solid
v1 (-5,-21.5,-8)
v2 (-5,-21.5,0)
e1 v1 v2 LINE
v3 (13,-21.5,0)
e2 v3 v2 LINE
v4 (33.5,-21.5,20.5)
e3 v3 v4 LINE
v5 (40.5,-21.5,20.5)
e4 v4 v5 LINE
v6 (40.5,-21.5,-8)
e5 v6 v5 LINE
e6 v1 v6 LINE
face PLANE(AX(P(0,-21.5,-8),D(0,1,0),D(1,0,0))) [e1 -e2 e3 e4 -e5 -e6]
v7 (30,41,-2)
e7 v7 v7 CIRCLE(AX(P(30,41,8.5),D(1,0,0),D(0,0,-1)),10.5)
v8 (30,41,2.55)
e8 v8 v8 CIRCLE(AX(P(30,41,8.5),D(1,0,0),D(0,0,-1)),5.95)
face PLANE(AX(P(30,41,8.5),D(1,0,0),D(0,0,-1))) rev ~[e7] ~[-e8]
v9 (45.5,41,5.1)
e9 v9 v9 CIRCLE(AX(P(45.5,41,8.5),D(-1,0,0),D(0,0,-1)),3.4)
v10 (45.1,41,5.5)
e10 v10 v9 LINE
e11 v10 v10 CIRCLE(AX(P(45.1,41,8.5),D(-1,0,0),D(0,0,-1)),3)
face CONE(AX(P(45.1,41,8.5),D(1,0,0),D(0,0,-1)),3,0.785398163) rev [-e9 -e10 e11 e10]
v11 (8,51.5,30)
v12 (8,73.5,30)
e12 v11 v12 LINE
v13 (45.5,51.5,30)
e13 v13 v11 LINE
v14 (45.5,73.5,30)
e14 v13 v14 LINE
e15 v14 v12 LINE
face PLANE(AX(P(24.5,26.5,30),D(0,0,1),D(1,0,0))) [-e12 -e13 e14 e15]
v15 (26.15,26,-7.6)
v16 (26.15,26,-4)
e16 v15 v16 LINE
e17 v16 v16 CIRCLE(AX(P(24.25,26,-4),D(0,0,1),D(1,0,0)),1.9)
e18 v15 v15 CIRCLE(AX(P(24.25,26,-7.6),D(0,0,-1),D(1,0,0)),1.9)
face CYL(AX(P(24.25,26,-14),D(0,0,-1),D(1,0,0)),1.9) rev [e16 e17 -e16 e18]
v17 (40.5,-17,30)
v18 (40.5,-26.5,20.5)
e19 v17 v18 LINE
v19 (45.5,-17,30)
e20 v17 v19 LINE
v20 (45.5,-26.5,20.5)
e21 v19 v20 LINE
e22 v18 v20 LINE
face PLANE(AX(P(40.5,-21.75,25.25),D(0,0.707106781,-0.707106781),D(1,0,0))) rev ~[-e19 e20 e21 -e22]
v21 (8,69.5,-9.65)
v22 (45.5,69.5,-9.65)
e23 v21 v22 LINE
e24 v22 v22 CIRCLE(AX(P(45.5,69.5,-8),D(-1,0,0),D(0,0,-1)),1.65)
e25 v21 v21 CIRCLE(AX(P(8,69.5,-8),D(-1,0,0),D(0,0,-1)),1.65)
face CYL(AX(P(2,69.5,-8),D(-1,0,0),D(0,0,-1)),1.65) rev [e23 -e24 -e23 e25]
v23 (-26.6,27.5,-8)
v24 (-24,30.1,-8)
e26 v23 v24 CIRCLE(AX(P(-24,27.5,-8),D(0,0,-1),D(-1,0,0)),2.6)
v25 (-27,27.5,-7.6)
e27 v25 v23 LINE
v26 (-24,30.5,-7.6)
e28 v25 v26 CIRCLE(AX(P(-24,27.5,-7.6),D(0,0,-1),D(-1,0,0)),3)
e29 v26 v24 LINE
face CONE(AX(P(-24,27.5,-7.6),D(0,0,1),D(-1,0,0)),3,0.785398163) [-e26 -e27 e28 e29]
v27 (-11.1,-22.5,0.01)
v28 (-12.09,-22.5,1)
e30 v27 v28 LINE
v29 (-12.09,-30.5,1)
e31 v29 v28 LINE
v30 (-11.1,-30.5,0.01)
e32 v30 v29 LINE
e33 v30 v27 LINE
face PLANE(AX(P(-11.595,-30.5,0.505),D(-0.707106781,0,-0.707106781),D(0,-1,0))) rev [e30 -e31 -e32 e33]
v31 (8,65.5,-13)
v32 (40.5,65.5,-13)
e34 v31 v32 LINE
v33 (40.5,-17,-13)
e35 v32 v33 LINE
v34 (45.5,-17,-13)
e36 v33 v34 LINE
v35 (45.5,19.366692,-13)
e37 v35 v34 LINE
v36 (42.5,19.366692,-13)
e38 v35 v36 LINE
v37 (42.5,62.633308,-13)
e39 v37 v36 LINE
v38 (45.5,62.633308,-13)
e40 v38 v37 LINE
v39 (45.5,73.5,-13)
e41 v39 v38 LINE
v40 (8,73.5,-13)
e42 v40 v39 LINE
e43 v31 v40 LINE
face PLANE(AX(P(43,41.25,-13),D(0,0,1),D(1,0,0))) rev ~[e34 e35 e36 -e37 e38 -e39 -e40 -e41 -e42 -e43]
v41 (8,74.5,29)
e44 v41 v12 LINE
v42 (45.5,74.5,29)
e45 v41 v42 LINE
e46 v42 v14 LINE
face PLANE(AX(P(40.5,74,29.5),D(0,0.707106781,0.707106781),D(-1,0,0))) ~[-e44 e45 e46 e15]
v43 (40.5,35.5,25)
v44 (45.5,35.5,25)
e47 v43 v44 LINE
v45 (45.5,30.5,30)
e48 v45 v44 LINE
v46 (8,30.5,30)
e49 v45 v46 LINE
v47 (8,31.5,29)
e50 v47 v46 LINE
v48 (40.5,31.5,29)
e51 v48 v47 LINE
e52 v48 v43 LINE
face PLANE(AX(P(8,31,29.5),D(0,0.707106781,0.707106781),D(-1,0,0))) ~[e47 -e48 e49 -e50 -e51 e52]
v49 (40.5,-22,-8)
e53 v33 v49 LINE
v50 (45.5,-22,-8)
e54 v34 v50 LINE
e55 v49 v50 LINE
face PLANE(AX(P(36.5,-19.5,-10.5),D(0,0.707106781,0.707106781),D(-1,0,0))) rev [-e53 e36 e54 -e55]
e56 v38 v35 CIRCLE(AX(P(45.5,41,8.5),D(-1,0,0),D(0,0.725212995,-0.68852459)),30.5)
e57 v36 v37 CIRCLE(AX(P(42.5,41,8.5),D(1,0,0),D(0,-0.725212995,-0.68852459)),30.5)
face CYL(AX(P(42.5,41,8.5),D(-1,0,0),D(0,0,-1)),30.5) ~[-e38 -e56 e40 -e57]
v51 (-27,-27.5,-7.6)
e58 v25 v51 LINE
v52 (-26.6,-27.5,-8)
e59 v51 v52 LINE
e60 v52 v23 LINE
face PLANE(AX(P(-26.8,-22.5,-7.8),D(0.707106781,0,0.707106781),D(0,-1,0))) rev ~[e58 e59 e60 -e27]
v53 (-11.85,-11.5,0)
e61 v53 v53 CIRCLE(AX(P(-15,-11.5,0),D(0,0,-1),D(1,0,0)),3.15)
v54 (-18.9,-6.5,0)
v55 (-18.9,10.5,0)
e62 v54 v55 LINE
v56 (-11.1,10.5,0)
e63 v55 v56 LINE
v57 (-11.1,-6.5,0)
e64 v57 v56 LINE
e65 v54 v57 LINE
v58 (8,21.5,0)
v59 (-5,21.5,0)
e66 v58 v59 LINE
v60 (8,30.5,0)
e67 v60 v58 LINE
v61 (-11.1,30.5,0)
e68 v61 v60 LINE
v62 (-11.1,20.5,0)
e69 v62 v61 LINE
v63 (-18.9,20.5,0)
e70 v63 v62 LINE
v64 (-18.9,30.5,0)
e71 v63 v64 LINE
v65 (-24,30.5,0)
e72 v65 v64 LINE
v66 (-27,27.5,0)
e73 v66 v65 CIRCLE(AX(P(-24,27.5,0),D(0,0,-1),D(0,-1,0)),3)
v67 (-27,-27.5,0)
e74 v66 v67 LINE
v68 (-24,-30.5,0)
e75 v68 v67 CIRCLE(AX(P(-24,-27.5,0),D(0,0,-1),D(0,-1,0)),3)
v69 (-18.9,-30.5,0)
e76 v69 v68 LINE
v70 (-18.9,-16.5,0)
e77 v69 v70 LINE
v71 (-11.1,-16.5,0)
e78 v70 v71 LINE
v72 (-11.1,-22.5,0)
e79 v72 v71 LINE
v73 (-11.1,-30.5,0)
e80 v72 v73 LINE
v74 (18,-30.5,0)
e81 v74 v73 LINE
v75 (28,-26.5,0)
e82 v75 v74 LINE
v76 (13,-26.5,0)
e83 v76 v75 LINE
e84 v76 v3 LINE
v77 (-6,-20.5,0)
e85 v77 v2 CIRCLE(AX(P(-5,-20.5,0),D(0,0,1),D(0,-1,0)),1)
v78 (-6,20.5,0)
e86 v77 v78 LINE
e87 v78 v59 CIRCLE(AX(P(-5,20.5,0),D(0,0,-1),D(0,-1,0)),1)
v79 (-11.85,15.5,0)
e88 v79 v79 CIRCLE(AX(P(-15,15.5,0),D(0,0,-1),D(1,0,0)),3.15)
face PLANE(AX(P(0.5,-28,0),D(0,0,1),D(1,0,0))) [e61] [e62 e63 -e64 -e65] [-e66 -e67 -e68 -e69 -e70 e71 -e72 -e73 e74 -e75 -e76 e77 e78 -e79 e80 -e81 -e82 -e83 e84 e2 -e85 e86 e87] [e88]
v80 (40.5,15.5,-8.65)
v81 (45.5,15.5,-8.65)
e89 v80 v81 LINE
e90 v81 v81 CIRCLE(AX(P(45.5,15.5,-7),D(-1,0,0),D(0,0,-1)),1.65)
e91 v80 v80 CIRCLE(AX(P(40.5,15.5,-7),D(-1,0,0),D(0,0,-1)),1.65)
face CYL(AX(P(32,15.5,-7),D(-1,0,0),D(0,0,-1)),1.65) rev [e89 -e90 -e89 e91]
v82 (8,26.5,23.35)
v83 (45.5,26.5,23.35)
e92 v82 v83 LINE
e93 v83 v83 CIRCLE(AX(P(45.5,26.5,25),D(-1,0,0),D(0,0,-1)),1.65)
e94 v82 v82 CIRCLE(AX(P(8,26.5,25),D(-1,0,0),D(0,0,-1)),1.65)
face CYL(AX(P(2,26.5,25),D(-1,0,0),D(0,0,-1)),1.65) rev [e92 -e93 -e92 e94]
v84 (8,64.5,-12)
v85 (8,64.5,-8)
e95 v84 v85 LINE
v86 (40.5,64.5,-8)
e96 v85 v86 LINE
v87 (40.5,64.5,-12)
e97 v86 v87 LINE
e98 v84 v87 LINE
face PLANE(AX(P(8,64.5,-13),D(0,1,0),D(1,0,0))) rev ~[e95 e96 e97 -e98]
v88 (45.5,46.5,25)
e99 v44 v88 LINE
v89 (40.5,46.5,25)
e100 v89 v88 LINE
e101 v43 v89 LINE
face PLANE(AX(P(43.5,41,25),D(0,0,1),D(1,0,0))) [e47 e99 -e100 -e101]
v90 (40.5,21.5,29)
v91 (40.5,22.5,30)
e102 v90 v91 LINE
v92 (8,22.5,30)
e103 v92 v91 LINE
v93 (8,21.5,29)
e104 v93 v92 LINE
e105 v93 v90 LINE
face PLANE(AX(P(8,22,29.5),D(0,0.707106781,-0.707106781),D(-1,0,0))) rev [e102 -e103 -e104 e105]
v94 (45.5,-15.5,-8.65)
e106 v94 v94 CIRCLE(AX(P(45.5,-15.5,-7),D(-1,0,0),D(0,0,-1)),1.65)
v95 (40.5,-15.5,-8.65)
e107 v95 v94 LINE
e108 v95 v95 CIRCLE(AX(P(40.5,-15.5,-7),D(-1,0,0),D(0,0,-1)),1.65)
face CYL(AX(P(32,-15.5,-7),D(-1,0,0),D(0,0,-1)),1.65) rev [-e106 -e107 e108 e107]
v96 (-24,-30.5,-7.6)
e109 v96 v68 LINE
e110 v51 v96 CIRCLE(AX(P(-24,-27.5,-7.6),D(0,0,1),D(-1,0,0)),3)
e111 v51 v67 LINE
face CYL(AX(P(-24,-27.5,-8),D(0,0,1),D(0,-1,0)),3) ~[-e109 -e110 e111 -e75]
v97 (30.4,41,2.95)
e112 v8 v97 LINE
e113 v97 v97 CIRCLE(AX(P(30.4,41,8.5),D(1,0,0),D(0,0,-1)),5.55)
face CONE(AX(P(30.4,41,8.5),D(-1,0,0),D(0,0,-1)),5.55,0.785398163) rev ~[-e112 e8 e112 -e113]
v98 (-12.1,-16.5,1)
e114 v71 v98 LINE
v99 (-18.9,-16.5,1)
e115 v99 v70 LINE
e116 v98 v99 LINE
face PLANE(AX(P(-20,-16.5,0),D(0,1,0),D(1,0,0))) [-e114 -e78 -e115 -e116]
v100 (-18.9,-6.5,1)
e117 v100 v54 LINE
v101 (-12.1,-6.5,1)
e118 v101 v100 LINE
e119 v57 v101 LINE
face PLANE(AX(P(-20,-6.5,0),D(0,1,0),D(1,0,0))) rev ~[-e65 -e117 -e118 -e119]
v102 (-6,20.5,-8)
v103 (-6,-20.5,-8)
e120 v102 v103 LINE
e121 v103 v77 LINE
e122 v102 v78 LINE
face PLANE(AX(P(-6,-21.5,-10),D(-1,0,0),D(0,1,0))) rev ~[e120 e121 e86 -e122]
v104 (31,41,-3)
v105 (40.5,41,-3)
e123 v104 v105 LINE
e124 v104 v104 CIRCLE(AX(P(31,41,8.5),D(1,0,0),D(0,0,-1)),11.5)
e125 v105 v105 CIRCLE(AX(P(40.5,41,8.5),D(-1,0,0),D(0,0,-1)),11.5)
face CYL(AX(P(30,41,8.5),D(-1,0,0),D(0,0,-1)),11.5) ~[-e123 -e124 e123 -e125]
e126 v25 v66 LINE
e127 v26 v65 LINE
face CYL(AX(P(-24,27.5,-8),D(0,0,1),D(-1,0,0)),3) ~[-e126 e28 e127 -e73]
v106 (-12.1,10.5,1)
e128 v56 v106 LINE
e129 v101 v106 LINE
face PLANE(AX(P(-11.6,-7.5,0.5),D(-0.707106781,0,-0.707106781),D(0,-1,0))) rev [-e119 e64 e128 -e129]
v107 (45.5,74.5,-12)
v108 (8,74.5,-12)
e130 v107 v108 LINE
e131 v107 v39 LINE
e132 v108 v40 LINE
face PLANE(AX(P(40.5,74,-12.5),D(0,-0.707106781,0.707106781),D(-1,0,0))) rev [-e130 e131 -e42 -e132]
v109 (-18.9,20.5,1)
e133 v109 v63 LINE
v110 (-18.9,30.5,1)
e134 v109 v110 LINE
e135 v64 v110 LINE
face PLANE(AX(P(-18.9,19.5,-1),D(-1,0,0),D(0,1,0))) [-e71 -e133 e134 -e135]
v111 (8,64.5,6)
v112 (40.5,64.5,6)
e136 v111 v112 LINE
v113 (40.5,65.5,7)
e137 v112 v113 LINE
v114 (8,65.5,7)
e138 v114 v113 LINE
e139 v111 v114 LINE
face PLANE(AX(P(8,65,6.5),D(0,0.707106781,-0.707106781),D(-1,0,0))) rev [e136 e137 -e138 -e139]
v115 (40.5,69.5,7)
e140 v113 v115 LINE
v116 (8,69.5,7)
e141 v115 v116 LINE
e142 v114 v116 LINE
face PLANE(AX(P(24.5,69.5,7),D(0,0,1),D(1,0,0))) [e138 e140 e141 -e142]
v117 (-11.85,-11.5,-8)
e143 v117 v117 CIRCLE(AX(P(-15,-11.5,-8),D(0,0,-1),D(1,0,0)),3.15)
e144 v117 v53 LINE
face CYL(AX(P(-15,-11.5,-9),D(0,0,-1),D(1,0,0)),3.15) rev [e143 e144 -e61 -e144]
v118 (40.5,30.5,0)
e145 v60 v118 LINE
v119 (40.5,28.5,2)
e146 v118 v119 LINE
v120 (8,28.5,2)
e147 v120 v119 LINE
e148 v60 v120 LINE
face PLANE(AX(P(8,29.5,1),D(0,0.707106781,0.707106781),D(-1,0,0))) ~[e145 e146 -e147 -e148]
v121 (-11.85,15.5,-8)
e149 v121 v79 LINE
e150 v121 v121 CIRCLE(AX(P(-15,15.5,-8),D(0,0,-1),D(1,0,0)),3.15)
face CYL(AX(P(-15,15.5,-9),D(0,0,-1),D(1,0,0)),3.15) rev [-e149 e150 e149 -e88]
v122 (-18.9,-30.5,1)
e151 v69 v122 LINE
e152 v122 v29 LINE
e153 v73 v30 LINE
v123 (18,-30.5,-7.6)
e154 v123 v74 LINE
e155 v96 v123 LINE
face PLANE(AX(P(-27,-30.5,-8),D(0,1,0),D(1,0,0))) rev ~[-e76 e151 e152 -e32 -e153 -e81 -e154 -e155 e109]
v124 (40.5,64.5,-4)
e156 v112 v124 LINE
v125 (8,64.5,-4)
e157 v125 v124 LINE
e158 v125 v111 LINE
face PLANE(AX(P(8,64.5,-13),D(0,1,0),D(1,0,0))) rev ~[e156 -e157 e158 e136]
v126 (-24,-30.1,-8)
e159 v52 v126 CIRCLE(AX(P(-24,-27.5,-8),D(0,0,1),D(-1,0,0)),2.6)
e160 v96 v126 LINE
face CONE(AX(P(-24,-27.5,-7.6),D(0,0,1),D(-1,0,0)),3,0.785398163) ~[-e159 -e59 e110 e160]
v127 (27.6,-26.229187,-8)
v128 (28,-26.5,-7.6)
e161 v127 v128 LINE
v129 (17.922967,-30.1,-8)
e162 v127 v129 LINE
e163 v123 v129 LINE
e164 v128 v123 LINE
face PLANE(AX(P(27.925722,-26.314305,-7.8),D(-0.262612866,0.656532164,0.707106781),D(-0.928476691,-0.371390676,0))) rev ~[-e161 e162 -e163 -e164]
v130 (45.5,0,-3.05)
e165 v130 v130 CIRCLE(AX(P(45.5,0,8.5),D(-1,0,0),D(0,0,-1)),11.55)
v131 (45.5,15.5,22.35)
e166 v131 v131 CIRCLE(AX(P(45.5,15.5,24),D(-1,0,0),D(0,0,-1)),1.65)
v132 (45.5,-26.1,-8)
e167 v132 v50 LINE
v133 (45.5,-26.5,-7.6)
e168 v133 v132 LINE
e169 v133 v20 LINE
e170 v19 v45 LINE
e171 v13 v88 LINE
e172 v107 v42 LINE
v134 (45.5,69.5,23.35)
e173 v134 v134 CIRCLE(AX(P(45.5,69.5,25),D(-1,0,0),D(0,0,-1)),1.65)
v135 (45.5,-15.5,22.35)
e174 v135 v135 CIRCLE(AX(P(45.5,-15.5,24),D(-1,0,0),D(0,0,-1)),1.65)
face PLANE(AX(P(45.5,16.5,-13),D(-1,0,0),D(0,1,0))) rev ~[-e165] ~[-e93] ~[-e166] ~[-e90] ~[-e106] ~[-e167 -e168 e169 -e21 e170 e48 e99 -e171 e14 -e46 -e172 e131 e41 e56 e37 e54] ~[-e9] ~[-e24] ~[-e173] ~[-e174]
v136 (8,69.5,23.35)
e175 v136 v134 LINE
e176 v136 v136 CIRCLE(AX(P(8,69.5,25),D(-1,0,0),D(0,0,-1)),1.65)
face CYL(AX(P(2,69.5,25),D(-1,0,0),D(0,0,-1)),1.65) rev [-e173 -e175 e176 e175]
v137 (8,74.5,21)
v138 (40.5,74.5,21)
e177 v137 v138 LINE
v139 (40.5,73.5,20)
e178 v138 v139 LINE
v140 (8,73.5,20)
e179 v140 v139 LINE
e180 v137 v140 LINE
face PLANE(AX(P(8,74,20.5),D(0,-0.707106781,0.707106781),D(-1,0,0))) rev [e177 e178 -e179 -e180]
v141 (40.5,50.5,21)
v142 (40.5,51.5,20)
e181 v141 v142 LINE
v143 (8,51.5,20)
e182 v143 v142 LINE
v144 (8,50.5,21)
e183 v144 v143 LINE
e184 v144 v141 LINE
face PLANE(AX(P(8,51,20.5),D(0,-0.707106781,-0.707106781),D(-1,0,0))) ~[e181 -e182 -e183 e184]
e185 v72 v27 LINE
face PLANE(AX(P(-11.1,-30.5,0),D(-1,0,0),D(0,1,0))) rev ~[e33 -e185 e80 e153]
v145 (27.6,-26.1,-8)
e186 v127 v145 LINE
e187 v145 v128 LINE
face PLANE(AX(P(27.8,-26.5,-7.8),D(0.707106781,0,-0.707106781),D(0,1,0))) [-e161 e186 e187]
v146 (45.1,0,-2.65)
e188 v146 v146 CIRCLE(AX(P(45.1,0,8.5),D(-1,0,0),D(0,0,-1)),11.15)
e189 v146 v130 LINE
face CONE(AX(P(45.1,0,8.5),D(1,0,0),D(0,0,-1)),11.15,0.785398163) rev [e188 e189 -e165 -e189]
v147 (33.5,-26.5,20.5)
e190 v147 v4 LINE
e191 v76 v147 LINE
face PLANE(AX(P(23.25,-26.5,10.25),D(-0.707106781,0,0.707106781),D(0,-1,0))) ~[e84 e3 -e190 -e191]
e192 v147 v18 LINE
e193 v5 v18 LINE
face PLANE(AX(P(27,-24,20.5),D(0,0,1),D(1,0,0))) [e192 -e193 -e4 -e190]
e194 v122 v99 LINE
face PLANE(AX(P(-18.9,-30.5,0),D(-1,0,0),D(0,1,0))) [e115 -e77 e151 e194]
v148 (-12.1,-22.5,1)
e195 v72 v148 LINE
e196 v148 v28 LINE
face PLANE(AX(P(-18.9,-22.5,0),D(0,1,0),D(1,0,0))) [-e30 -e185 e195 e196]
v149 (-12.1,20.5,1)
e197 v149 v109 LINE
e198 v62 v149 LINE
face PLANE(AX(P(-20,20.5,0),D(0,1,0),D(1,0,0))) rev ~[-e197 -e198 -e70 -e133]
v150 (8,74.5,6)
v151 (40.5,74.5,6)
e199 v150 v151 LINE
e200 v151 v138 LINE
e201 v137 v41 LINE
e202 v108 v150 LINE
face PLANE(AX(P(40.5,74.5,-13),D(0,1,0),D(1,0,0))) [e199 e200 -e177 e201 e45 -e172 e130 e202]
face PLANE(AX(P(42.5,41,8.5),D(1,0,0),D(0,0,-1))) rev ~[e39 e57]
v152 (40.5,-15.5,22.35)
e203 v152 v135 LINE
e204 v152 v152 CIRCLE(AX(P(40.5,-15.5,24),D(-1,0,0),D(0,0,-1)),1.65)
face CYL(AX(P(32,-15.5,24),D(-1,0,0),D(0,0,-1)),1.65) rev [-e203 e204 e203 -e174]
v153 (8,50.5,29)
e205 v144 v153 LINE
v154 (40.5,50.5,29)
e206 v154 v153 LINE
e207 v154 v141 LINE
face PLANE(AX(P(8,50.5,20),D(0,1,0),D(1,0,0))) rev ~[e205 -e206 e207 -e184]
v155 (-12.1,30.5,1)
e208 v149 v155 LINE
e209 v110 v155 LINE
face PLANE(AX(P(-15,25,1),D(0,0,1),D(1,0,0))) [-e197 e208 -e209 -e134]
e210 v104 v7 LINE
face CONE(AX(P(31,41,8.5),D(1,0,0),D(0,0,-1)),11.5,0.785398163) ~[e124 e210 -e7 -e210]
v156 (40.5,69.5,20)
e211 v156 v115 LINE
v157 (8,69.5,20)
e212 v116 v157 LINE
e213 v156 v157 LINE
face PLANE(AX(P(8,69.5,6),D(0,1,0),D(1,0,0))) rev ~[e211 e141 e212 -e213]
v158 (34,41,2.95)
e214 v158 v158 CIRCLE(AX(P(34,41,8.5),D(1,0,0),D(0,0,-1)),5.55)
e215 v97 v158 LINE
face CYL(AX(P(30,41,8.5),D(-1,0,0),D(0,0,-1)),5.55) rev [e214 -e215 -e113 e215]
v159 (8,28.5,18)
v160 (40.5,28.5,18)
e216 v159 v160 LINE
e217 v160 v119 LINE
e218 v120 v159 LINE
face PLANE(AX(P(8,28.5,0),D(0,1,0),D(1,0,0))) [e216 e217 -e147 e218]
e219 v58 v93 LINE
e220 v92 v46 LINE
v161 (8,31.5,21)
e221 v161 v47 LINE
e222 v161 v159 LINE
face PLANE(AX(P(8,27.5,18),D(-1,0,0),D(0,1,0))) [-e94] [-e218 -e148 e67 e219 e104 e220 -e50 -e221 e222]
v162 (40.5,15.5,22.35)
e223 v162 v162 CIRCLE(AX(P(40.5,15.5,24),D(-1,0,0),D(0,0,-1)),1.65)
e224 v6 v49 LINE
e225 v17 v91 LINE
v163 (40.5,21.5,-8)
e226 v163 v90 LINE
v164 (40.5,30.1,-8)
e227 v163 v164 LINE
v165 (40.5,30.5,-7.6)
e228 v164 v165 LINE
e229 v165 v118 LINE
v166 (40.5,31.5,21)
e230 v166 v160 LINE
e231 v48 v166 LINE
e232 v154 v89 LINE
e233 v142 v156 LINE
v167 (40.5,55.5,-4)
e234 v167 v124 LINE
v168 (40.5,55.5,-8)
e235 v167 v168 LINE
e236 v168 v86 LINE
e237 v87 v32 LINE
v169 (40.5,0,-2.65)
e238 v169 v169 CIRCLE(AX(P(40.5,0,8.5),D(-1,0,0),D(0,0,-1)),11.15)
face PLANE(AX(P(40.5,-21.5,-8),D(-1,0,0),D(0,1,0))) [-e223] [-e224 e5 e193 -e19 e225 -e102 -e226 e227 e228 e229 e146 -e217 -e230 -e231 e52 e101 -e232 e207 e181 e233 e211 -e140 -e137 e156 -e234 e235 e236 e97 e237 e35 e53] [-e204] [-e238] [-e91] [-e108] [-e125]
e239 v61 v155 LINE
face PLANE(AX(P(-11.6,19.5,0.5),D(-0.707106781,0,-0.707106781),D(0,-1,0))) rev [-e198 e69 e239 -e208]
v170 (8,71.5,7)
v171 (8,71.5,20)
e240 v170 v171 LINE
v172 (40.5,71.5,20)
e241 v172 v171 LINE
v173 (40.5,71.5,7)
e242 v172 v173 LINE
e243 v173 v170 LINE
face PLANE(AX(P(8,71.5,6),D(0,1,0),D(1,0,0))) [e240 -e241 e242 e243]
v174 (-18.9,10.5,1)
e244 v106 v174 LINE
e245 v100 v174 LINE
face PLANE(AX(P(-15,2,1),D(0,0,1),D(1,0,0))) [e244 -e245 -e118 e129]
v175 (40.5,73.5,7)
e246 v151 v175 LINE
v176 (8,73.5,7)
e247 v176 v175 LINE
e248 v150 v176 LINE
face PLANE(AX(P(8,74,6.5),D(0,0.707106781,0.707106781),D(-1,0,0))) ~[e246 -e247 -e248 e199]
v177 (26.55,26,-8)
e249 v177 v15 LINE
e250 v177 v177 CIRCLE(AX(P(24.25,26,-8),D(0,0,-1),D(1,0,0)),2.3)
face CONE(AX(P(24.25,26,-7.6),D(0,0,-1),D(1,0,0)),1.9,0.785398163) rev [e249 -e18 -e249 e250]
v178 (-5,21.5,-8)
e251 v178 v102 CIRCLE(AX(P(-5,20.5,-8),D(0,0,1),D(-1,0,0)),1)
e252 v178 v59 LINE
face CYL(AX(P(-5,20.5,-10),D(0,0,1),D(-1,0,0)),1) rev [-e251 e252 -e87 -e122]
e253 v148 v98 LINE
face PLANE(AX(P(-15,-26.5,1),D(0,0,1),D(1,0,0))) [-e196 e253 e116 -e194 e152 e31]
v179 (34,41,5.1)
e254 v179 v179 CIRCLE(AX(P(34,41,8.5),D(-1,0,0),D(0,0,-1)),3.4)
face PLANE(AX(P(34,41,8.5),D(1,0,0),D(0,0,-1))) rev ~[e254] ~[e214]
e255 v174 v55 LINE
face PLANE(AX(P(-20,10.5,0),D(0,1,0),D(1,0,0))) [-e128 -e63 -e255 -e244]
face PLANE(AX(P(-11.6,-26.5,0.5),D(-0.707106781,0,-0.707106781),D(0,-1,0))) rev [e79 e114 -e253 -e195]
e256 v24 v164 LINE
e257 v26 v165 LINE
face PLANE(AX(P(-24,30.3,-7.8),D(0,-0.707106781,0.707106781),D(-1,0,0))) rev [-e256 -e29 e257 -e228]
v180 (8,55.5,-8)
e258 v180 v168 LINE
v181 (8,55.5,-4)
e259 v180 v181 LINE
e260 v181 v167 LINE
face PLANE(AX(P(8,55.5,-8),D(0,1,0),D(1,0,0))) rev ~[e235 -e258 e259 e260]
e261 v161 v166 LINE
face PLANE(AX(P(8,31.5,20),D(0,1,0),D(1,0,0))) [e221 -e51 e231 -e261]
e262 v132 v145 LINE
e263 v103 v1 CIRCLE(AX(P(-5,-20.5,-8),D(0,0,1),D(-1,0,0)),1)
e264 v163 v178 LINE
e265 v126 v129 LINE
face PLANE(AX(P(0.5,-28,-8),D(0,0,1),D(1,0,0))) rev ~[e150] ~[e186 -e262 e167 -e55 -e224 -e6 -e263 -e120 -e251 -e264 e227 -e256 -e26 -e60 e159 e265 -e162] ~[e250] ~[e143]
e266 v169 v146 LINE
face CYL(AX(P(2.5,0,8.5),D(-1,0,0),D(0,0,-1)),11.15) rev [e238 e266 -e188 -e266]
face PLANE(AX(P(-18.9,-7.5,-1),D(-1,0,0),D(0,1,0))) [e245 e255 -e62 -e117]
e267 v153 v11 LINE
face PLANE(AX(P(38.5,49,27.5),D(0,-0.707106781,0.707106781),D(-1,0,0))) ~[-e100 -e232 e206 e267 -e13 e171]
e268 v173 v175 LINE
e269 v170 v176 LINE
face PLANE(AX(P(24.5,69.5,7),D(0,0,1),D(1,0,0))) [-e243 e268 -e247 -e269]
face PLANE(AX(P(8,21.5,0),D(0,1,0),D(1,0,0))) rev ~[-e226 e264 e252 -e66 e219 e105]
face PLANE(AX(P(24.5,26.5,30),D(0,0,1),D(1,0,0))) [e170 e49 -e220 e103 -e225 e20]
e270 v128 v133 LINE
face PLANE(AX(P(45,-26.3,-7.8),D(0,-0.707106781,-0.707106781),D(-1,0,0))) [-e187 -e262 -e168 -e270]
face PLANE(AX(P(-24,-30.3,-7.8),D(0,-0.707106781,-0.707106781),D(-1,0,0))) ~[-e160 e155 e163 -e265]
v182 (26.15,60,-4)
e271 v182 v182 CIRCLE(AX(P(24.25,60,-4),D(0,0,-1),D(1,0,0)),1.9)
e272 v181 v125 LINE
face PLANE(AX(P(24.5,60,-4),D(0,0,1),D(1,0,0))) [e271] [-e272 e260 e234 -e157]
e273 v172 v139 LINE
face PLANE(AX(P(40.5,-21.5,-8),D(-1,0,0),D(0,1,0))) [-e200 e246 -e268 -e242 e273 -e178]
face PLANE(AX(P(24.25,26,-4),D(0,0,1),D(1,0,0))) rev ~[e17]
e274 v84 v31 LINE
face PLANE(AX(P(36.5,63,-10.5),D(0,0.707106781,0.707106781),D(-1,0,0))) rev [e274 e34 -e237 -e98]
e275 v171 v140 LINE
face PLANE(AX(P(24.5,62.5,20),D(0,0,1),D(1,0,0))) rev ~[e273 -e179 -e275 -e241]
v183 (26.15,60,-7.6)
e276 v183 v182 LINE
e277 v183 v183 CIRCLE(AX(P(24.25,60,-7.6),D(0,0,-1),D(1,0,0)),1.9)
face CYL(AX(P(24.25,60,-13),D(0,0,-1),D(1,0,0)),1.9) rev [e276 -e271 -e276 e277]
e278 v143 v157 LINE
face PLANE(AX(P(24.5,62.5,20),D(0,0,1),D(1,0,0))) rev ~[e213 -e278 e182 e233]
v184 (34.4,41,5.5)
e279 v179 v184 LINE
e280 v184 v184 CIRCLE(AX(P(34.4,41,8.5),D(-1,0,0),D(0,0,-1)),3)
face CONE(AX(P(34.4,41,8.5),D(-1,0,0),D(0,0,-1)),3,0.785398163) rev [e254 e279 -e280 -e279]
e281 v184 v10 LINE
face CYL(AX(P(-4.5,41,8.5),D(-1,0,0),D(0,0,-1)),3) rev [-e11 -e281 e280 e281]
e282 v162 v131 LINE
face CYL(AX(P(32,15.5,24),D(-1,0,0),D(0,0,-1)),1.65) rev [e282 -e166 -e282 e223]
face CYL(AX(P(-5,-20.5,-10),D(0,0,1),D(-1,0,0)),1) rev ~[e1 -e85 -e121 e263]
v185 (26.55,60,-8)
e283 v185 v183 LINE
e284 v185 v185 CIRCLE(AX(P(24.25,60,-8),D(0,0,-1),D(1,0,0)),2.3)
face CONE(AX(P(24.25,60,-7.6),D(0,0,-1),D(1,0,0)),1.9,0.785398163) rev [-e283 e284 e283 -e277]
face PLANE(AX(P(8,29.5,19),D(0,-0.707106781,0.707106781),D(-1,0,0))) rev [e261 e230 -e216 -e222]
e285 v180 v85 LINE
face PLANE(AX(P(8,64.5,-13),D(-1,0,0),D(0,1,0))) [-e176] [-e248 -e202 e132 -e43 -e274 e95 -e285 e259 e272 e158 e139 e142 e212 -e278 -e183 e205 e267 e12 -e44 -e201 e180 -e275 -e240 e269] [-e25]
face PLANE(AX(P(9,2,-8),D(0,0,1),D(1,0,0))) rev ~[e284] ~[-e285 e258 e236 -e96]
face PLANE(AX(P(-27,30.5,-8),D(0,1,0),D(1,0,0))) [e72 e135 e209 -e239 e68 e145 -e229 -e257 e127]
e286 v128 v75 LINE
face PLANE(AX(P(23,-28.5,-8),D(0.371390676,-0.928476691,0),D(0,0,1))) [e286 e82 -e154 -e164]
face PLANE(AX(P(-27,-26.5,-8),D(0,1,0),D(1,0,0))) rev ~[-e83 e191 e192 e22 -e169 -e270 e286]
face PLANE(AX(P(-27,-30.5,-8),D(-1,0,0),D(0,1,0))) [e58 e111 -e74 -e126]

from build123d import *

# Parameters (mm, degrees)
BOX075_W                              = 10
BOX075_H                              = 10
BOX075_DEPTH                          = 10
BOX074_W                              = 10
BOX074_H                              = 10
BOX074_DEPTH                          = 10
BOX064_W                              = 33
BOX064_H                              = 7
BOX064_DEPTH                          = 21.5
BOX067_W                              = 33
BOX067_H                              = 3
BOX067_DEPTH                          = 3
CHAMFER029006005013005005001002_SIZE  = 2
BOX066_W                              = 33
BOX066_H                              = 3
BOX066_DEPTH                          = 3
CHAMFER029006005013005005001003_SIZE  = 2
BOX070_W                              = 6
BOX070_H                              = 8
BOX070_DEPTH                          = 8
BOX069_W                              = 55
BOX069_H                              = 5
BOX069_DEPTH                          = 8
CHAMFER029006005013005005001004_SIZE2 = 10
CHAMFER029006005013005005001004_SIZE  = 4
BOX071_W                              = 7.8
BOX071_H                              = 8
BOX071_DEPTH                          = 1
CHAMFER029006005013005005001005_SIZE  = 0.99
FILLET004_R                           = 3
CHAMFER029006005013005005001006_SIZE  = 0.4
CYLINDER048_R                         = 1.9
CYLINDER048_DEPTH                     = 10
CYLINDER042_R                         = 1.9
CYLINDER042_DEPTH                     = 10
BOX047_W                              = 33
BOX047_H                              = 2
BOX047_DEPTH                          = 15
BOX048_W                              = 33
BOX048_H                              = 9
BOX048_DEPTH                          = 4
BOX060_W                              = 5
BOX060_H                              = 49.5
BOX060_DEPTH                          = 6
CHAMFER029006005010_SIZE              = 3
BOX037_W                              = 14
BOX037_H                              = 43
BOX037_DEPTH                          = 10
FILLET003_R                           = 1
BOX020_W                              = 10
BOX020_H                              = 21
BOX020_DEPTH                          = 10
CHAMFER025_SIZE                       = 5
CYLINDER008_R                         = 1.65
CYLINDER008_DEPTH                     = 110
CYLINDER009_R                         = 1.65
CYLINDER009_DEPTH                     = 110
CYLINDER010_R                         = 1.65
CYLINDER010_DEPTH                     = 110
BOX011_W                              = 33
BOX011_H                              = 24
BOX011_DEPTH                          = 10
CHAMFER009_SIZE                       = 1
BOX013_W                              = 33
BOX013_H                              = 10
BOX013_DEPTH                          = 10
CHAMFER005_SIZE                       = 1
BOX012_W                              = 33
BOX012_H                              = 10
BOX012_DEPTH                          = 20
CHAMFER023_SIZE                       = 1
CYLINDER024_R                         = 3
CYLINDER024_DEPTH                     = 83
CYLINDER003_R                         = 5.55
CYLINDER003_DEPTH                     = 4
CYLINDER023_R                         = 11.5
CYLINDER023_DEPTH                     = 12
CHAMFER021_SIZE                       = 1
CHAMFER022_SIZE                       = 0.4
CYLINDER021_R                         = 1.65
CYLINDER021_DEPTH                     = 30
CYLINDER020_R                         = 1.65
CYLINDER020_DEPTH                     = 30
CYLINDER019_R                         = 1.65
CYLINDER019_DEPTH                     = 30
CYLINDER022_R                         = 1.65
CYLINDER022_DEPTH                     = 30
CYLINDER016_R                         = 11.15
CYLINDER016_DEPTH                     = 83
BOX007_W                              = 28
BOX007_H                              = 5
BOX007_DEPTH                          = 28.5
CHAMFER018_SIZE                       = 0.5
CHAMFER019_SIZE                       = 20.5
BOX015_W                              = 10
BOX015_H                              = 48.5
BOX015_DEPTH                          = 10
CHAMFER014_SIZE                       = 5
BOX016_W                              = 10
BOX016_H                              = 58.5
BOX016_DEPTH                          = 10
CHAMFER013_SIZE                       = 5
BOX_W                                 = 5
BOX_H                                 = 101
BOX_DEPTH                             = 43
CHAMFER008_SIZE                       = 1
CHAMFER015_SIZE                       = 9.5
CHAMFER017_SIZE                       = 0.4
CYLINDER018_R                         = 3.15
CYLINDER018_DEPTH                     = 10
CYLINDER017_R                         = 3.15
CYLINDER017_DEPTH                     = 10
BOX010_W                              = 40.5
BOX010_H                              = 43
BOX010_DEPTH                          = 8
BOX009_W                              = 72
BOX009_H                              = 57
BOX009_DEPTH                          = 8
FILLET001_R                           = 3
CHAMFER016_SIZE                       = 0.4
BOX019_W                              = 7.8
BOX019_H                              = 11
BOX019_DEPTH                          = 2
BOX017_W                              = 7.8
BOX017_H                              = 11
BOX017_DEPTH                          = 2
BOX018_W                              = 7.8
BOX018_H                              = 19
BOX018_DEPTH                          = 2
CHAMFER020_SIZE                       = 1
CHAMFER024_SIZE                       = 0.4
CHAMFER029006005014_SIZE              = 0.4
BOX061_W                              = 10
BOX061_H                              = 58
BOX061_DEPTH                          = 10
CYLINDER045_R                         = 30.5
CYLINDER045_DEPTH                     = 3


with BuildPart() as cube075:
    # Box075 → Box075 (new body)
    with BuildSketch(Plane(origin=(-20, -16.5, 0), x_dir=(1, 0, 0), z_dir=(0, 0, 1))):
        with Locations((5, 5)):
            Rectangle(BOX075_W, BOX075_H)
    extrude(amount=BOX075_DEPTH)


with BuildPart() as fusion006002011004053036004001_body:
    # Box074 → Box074 (new body)
    with BuildSketch(Plane(origin=(-20, 10.5, 0), x_dir=(1, 0, 0), z_dir=(0, 0, 1))):
        with Locations((5, 5)):
            Rectangle(BOX074_W, BOX074_H)
    extrude(amount=BOX074_DEPTH)

    # Fusion006002011004053036004001028003011016007002001004: union Cube075
    add(cube075.part)


with BuildPart() as cube064:
    # Box064 → Box064 (new body)
    with BuildSketch(Plane(origin=(8, 21.5, 0), x_dir=(1, 0, 0), z_dir=(0, 0, 1))):
        with Locations((16.5, 3.5)):
            Rectangle(BOX064_W, BOX064_H)
    extrude(amount=BOX064_DEPTH)


with BuildPart() as chamfer029006005013005005001002:
    # Box067 → Box067 (new body)
    with BuildSketch(Plane(origin=(8, 27.5, 18), x_dir=(1, 0, 0), z_dir=(0, 0, 1))):
        with Locations((16.5, 1.5)):
            Rectangle(BOX067_W, BOX067_H)
    extrude(amount=BOX067_DEPTH)

    # Chamfer029006005013005005001002
    chamfer029006005013005005001002_edges = [chamfer029006005013005005001002.edges().sort_by_distance(p)[0] for p in [
        (24.5, 30.5, 18),
    ]]
    chamfer(chamfer029006005013005005001002_edges, length=CHAMFER029006005013005005001002_SIZE)


with BuildPart() as rf_1_motor:
    # Box066 → Box066 (new body)
    with BuildSketch(Plane(origin=(8, 27.5, -1), x_dir=(1, 0, 0), z_dir=(0, 0, 1))):
        with Locations((16.5, 1.5)):
            Rectangle(BOX066_W, BOX066_H)
    extrude(amount=BOX066_DEPTH)

    # Chamfer029006005013005005001003
    chamfer029006005013005005001003_edges = [rf_1_motor.edges().sort_by_distance(p)[0] for p in [
        (24.5, 30.5, 2),
    ]]
    chamfer(chamfer029006005013005005001003_edges, length=CHAMFER029006005013005005001003_SIZE)

    # Fusion006002011004053036004001028003011016005: union Cube064, Chamfer029006005013005005001002
    add(cube064.part)
    add(chamfer029006005013005005001002.part)


with BuildPart() as cube070:
    # Box070 → Box070 (new body)
    with BuildSketch(Plane(origin=(-27, -30.5, -8), x_dir=(1, 0, 0), z_dir=(0, 0, 1))):
        with Locations((3, 4)):
            Rectangle(BOX070_W, BOX070_H)
    extrude(amount=BOX070_DEPTH)


with BuildPart() as fusion006002011004053036004001_body2:
    # Box069 → Box069 (new body)
    with BuildSketch(Plane(origin=(-27, -30.5, -8), x_dir=(1, 0, 0), z_dir=(0, 0, 1))):
        with Locations((27.5, 2.5)):
            Rectangle(BOX069_W, BOX069_H)
    extrude(amount=BOX069_DEPTH)

    # Chamfer029006005013005005001004
    chamfer029006005013005005001004_edges = [fusion006002011004053036004001_body2.edges().sort_by_distance(p)[0] for p in [
        (28, -30.5, -4),
    ]]
    chamfer029006005013005005001004_side = fusion006002011004053036004001_body2.faces().sort_by_distance((28, -28, -4))[0]
    chamfer(chamfer029006005013005005001004_edges, length=CHAMFER029006005013005005001004_SIZE, length2=CHAMFER029006005013005005001004_SIZE2, reference=chamfer029006005013005005001004_side)

    # Fusion006002011004053036004001028003011016006: union Cube070
    add(cube070.part)


with BuildPart() as chamfer029006005013005005001006:
    # Box071 → Box071 (new body)
    with BuildSketch(Plane(origin=(-18.9, -30.5, 0), x_dir=(1, 0, 0), z_dir=(0, 0, 1))):
        with Locations((3.9, 4)):
            Rectangle(BOX071_W, BOX071_H)
    extrude(amount=BOX071_DEPTH)

    # Chamfer029006005013005005001005
    chamfer029006005013005005001005_edges = [chamfer029006005013005005001006.edges().sort_by_distance(p)[0] for p in [
        (-11.1, -26.5, 1),
    ]]
    chamfer(chamfer029006005013005005001005_edges, length=CHAMFER029006005013005005001005_SIZE)

    # Fusion006002011004053036004001028003011016007: union Fusion006002011004053036004001 body2
    add(fusion006002011004053036004001_body2.part)

    # Fillet004
    fillet004_edges = [chamfer029006005013005005001006.edges().sort_by_distance(p)[0] for p in [
        (-27, -30.5, -4),
    ]]
    fillet(fillet004_edges, radius=FILLET004_R)

    # Chamfer029006005013005005001006
    chamfer029006005013005005001006_edges = [chamfer029006005013005005001006.edges().sort_by_distance(p)[0] for p in [
        (-3, -30.5, -8),
        (-26.12132, -29.62132, -8),
        (-27, -25, -8),
        (28, -26, -8),
        (23, -28.5, -8),
    ]]
    chamfer(chamfer029006005013005005001006_edges, length=CHAMFER029006005013005005001006_SIZE)


with BuildPart() as cylinder048:
    # Cylinder048 → Cylinder048 (new body)
    with BuildSketch(Plane(origin=(24.25, 60, -13), x_dir=(1, 0, 0), z_dir=(0, 0, 1))):
        Circle(CYLINDER048_R)
    extrude(amount=CYLINDER048_DEPTH)


with BuildPart() as fusion006002011004053036004001_body3:
    # Cylinder042 → Cylinder042 (new body)
    with BuildSketch(Plane(origin=(24.25, 26, -14), x_dir=(1, 0, 0), z_dir=(0, 0, 1))):
        Circle(CYLINDER042_R)
    extrude(amount=CYLINDER042_DEPTH)

    # Fusion006002011004053036004001028003011015: union Cylinder048
    add(cylinder048.part)


with BuildPart() as cube047:
    # Box047 → Box047 (new body)
    with BuildSketch(Plane(origin=(8, 69.5, 6), x_dir=(1, 0, 0), z_dir=(0, 0, 1))):
        with Locations((16.5, 1)):
            Rectangle(BOX047_W, BOX047_H)
    extrude(amount=BOX047_DEPTH)


with BuildPart() as fusion006002011004053036004001_body4:
    # Box048 → Box048 (new body)
    with BuildSketch(Plane(origin=(8, 55.5, -8), x_dir=(1, 0, 0), z_dir=(0, 0, 1))):
        with Locations((16.5, 4.5)):
            Rectangle(BOX048_W, BOX048_H)
    extrude(amount=BOX048_DEPTH)

    # Fusion006002011004053036004001028003011011: union Cube047
    add(cube047.part)


with BuildPart() as chamfer029006005010:
    # Box060 → Box060 (new body)
    with BuildSketch(Plane(origin=(40.5, 16.5, -13), x_dir=(1, 0, 0), z_dir=(0, 0, 1))):
        with Locations((2.5, 24.75)):
            Rectangle(BOX060_W, BOX060_H)
    extrude(amount=BOX060_DEPTH)

    # Chamfer029006005010
    chamfer029006005010_edges = [chamfer029006005010.edges().sort_by_distance(p)[0] for p in [
        (43, 16.5, -7),
        (43, 66, -7),
    ]]
    chamfer(chamfer029006005010_edges, length=CHAMFER029006005010_SIZE)


with BuildPart() as fillet003:
    # Box037 → Box037 (new body)
    with BuildSketch(Plane(origin=(-6, -21.5, -10), x_dir=(1, 0, 0), z_dir=(0, 0, 1))):
        with Locations((7, 21.5)):
            Rectangle(BOX037_W, BOX037_H)
    extrude(amount=BOX037_DEPTH)

    # Fillet003
    fillet003_edges = [fillet003.edges().sort_by_distance(p)[0] for p in [
        (-6, -21.5, -5),
        (-6, 21.5, -5),
    ]]
    fillet(fillet003_edges, radius=FILLET003_R)


with BuildPart() as chamfer025:
    # Box020 → Box020 (new body)
    with BuildSketch(Plane(origin=(38.5, 30.5, 35), x_dir=(1, 0, 0), z_dir=(0, 0, 1))):
        with Locations((5, 10.5)):
            Rectangle(BOX020_W, BOX020_H)
    extrude(amount=BOX020_DEPTH)

    # Chamfer025
    chamfer025_edges = [chamfer025.edges().sort_by_distance(p)[0] for p in [
        (43.5, 30.5, 35),
        (43.5, 51.5, 35),
    ]]
    chamfer(chamfer025_edges, length=CHAMFER025_SIZE)


with BuildPart() as chamfer025_1:
    # Chamfer025 placement: moved
    add(chamfer025.part.moved(Location((0, 0, -10))))


with BuildPart() as cylinder002:
    # Cylinder008 → Cylinder008 (new body)
    with BuildSketch(Plane(origin=(2, 26.5, 25), x_dir=(0, 0, -1), z_dir=(1, 0, 0))):
        Circle(CYLINDER008_R)
    extrude(amount=CYLINDER008_DEPTH)


with BuildPart() as cylinder003:
    # Cylinder009 → Cylinder009 (new body)
    with BuildSketch(Plane(origin=(2, 69.5, 25), x_dir=(0, 0, -1), z_dir=(1, 0, 0))):
        Circle(CYLINDER009_R)
    extrude(amount=CYLINDER009_DEPTH)


with BuildPart() as fusion006002011004053036004001007:
    # Cylinder010 → Cylinder010 (new body)
    with BuildSketch(Plane(origin=(2, 69.5, -8), x_dir=(0, 0, -1), z_dir=(1, 0, 0))):
        Circle(CYLINDER010_R)
    extrude(amount=CYLINDER010_DEPTH)

    # Fusion006002011004053036004001007: union Cylinder002, Cylinder003
    add(cylinder002.part)
    add(cylinder003.part)


with BuildPart() as chamfer009:
    # Box011 → Box011 (new body)
    with BuildSketch(Plane(origin=(8, 50.5, 20), x_dir=(1, 0, 0), z_dir=(0, 0, 1))):
        with Locations((16.5, 12)):
            Rectangle(BOX011_W, BOX011_H)
    extrude(amount=BOX011_DEPTH)

    # Chamfer009
    chamfer009_edges = [chamfer009.edges().sort_by_distance(p)[0] for p in [
        (24.5, 50.5, 20),
        (24.5, 50.5, 30),
        (24.5, 74.5, 20),
        (24.5, 74.5, 30),
    ]]
    chamfer(chamfer009_edges, length=CHAMFER009_SIZE)


with BuildPart() as chamfer005:
    # Box013 → Box013 (new body)
    with BuildSketch(Plane(origin=(8, 21.5, 20), x_dir=(1, 0, 0), z_dir=(0, 0, 1))):
        with Locations((16.5, 5)):
            Rectangle(BOX013_W, BOX013_H)
    extrude(amount=BOX013_DEPTH)

    # Chamfer005
    chamfer005_edges = [chamfer005.edges().sort_by_distance(p)[0] for p in [
        (24.5, 21.5, 20),
        (24.5, 21.5, 30),
        (24.5, 31.5, 20),
        (24.5, 31.5, 30),
    ]]
    chamfer(chamfer005_edges, length=CHAMFER005_SIZE)


with BuildPart() as fusion006002011004053036004001017:
    # Box012 → Box012 (new body)
    with BuildSketch(Plane(origin=(8, 64.5, -13), x_dir=(1, 0, 0), z_dir=(0, 0, 1))):
        with Locations((16.5, 5)):
            Rectangle(BOX012_W, BOX012_H)
    extrude(amount=BOX012_DEPTH)

    # Chamfer023
    chamfer023_edges = [fusion006002011004053036004001017.edges().sort_by_distance(p)[0] for p in [
        (24.5, 64.5, -13),
        (24.5, 64.5, 7),
        (24.5, 74.5, -13),
        (24.5, 74.5, 7),
    ]]
    chamfer(chamfer023_edges, length=CHAMFER023_SIZE)

    # Fusion006002011004053036004001017: union Chamfer009, Chamfer005
    add(chamfer009.part)
    add(chamfer005.part)


with BuildPart() as posb002:
    # Cylinder024 → Cylinder024 (new body)
    with BuildSketch(Plane(origin=(-4.5, 41, 8.5), x_dir=(0, 0, -1), z_dir=(1, 0, 0))):
        Circle(CYLINDER024_R)
    extrude(amount=CYLINDER024_DEPTH)


with BuildPart() as br002:
    # Cylinder003 → Cylinder003 (new body)
    with BuildSketch(Plane(origin=(30, 41, 8.5), x_dir=(0, 0, -1), z_dir=(1, 0, 0))):
        Circle(CYLINDER003_R)
    extrude(amount=CYLINDER003_DEPTH)


with BuildPart() as chamfer022:
    # Cylinder023 → Cylinder023 (new body)
    with BuildSketch(Plane(origin=(30, 41, 8.5), x_dir=(0, 0, -1), z_dir=(1, 0, 0))):
        Circle(CYLINDER023_R)
    extrude(amount=CYLINDER023_DEPTH)

    # Chamfer021
    chamfer021_edges = [chamfer022.edges().sort_by_distance(p)[0] for p in [
        (30, 41, 20),
    ]]
    chamfer(chamfer021_edges, length=CHAMFER021_SIZE)

    # Cut001018: cut br002
    add(br002.part, mode=Mode.SUBTRACT)

    # Chamfer022
    chamfer022_edges = [chamfer022.edges().sort_by_distance(p)[0] for p in [
        (30, 41, 14.05),
    ]]
    chamfer(chamfer022_edges, length=CHAMFER022_SIZE)


with BuildPart() as posa004:
    # Cylinder021 → Cylinder021 (new body)
    with BuildSketch(Plane(origin=(32, -15.5, -7), x_dir=(0, 0, -1), z_dir=(1, 0, 0))):
        Circle(CYLINDER021_R)
    extrude(amount=CYLINDER021_DEPTH)


with BuildPart() as posa003:
    # Cylinder020 → Cylinder020 (new body)
    with BuildSketch(Plane(origin=(32, -15.5, 24), x_dir=(0, 0, -1), z_dir=(1, 0, 0))):
        Circle(CYLINDER020_R)
    extrude(amount=CYLINDER020_DEPTH)


with BuildPart() as posa002:
    # Cylinder019 → Cylinder019 (new body)
    with BuildSketch(Plane(origin=(32, 15.5, 24), x_dir=(0, 0, -1), z_dir=(1, 0, 0))):
        Circle(CYLINDER019_R)
    extrude(amount=CYLINDER019_DEPTH)


with BuildPart() as fusion006002011004053036004001016:
    # Cylinder022 → Cylinder022 (new body)
    with BuildSketch(Plane(origin=(32, 15.5, -7), x_dir=(0, 0, -1), z_dir=(1, 0, 0))):
        Circle(CYLINDER022_R)
    extrude(amount=CYLINDER022_DEPTH)

    # Fusion006002011004053036004001016: union POSA004, POSA003, POSA002
    add(posa004.part)
    add(posa003.part)
    add(posa002.part)


with BuildPart() as posa001:
    # Cylinder016 → Cylinder016 (new body)
    with BuildSketch(Plane(origin=(2.5, 0, 8.5), x_dir=(0, 0, -1), z_dir=(1, 0, 0))):
        Circle(CYLINDER016_R)
    extrude(amount=CYLINDER016_DEPTH)


with BuildPart() as chamfer019:
    # Box007 → Box007 (new body)
    with BuildSketch(Plane(origin=(13, -26.5, -8), x_dir=(1, 0, 0), z_dir=(0, 0, 1))):
        with Locations((14, 2.5)):
            Rectangle(BOX007_W, BOX007_H)
    extrude(amount=BOX007_DEPTH)

    # Chamfer018
    chamfer018_edges = [chamfer019.edges().sort_by_distance(p)[0] for p in [
        (27, -26.5, -8),
    ]]
    chamfer(chamfer018_edges, length=CHAMFER018_SIZE)

    # Chamfer019
    chamfer019_edges = [chamfer019.edges().sort_by_distance(p)[0] for p in [
        (13, -24, 20.5),
    ]]
    chamfer(chamfer019_edges, length=CHAMFER019_SIZE)


with BuildPart() as chamfer014:
    # Box015 → Box015 (new body)
    with BuildSketch(Plane(origin=(36.5, 17, -18), x_dir=(1, 0, 0), z_dir=(0, 0, 1))):
        with Locations((5, 24.25)):
            Rectangle(BOX015_W, BOX015_H)
    extrude(amount=BOX015_DEPTH)

    # Chamfer014
    chamfer014_edges = [chamfer014.edges().sort_by_distance(p)[0] for p in [
        (41.5, 17, -8),
        (41.5, 65.5, -8),
    ]]
    chamfer(chamfer014_edges, length=CHAMFER014_SIZE)


with BuildPart() as chamfer013:
    # Box016 → Box016 (new body)
    with BuildSketch(Plane(origin=(36.5, -75.5, -18), x_dir=(1, 0, 0), z_dir=(0, 0, 1))):
        with Locations((5, 29.25)):
            Rectangle(BOX016_W, BOX016_H)
    extrude(amount=BOX016_DEPTH)

    # Chamfer013
    chamfer013_edges = [chamfer013.edges().sort_by_distance(p)[0] for p in [
        (41.5, -17, -8),
    ]]
    chamfer(chamfer013_edges, length=CHAMFER013_SIZE)


with BuildPart() as chamfer017:
    # Box → Box (new body)
    with BuildSketch(Plane(origin=(40.5, -26.5, -13), x_dir=(1, 0, 0), z_dir=(0, 0, 1))):
        with Locations((2.5, 50.5)):
            Rectangle(BOX_W, BOX_H)
    extrude(amount=BOX_DEPTH)

    # Chamfer008
    chamfer008_edges = [chamfer017.edges().sort_by_distance(p)[0] for p in [
        (43, 74.5, -13),
        (43, 74.5, 30),
    ]]
    chamfer(chamfer008_edges, length=CHAMFER008_SIZE)

    # Cut001013: cut Chamfer013
    add(chamfer013.part, mode=Mode.SUBTRACT)

    # Cut001014: cut Chamfer014
    add(chamfer014.part, mode=Mode.SUBTRACT)

    # Chamfer015
    chamfer015_edges = [chamfer017.edges().sort_by_distance(p)[0] for p in [
        (43, -26.5, 30),
    ]]
    chamfer(chamfer015_edges, length=CHAMFER015_SIZE)

    # Chamfer017
    chamfer017_edges = [chamfer017.edges().sort_by_distance(p)[0] for p in [
        (43, -26.5, -8),
    ]]
    chamfer(chamfer017_edges, length=CHAMFER017_SIZE)


with BuildPart() as cylinder011:
    # Cylinder018 → Cylinder018 (new body)
    with BuildSketch(Plane(origin=(-15, -11.5, 0), x_dir=(1, 0, 0), z_dir=(0, 0, 1))):
        Circle(CYLINDER018_R)
    extrude(amount=CYLINDER018_DEPTH)


with BuildPart() as fusion006002011004053036004001012:
    # Cylinder017 → Cylinder017 (new body)
    with BuildSketch(Plane(origin=(-15, 15.5, 0), x_dir=(1, 0, 0), z_dir=(0, 0, 1))):
        Circle(CYLINDER017_R)
    extrude(amount=CYLINDER017_DEPTH)

    # Fusion006002011004053036004001012: union Cylinder011
    add(cylinder011.part)


with BuildPart() as fusion006002011004053036004001012_1:
    # Fusion006002011004053036004001012 placement: moved
    add(fusion006002011004053036004001012.part.moved(Location((0, 0, -9))))


with BuildPart() as cube010:
    # Box010 → Box010 (new body)
    with BuildSketch(Plane(origin=(0, -21.5, -8), x_dir=(1, 0, 0), z_dir=(0, 0, 1))):
        with Locations((20.25, 21.5)):
            Rectangle(BOX010_W, BOX010_H)
    extrude(amount=BOX010_DEPTH)


with BuildPart() as cut001015:
    # Box009 → Box009 (new body)
    with BuildSketch(Plane(origin=(-27, -26.5, -8), x_dir=(1, 0, 0), z_dir=(0, 0, 1))):
        with Locations((36, 28.5)):
            Rectangle(BOX009_W, BOX009_H)
    extrude(amount=BOX009_DEPTH)

    # Fillet001
    fillet001_edges = [cut001015.edges().sort_by_distance(p)[0] for p in [
        (-27, -26.5, -4),
        (-27, 30.5, -4),
    ]]
    fillet(fillet001_edges, radius=FILLET001_R)

    # Cut001009: cut Cube010
    add(cube010.part, mode=Mode.SUBTRACT)

    # Chamfer016
    chamfer016_edges = [cut001015.edges().sort_by_distance(p)[0] for p in [
        (-27, 2, -8),
        (-26.12132, -25.62132, -8),
        (-26.12132, 29.62132, -8),
        (10.5, -26.5, -8),
        (10.5, 30.5, -8),
    ]]
    chamfer(chamfer016_edges, length=CHAMFER016_SIZE)

    # Cut001015: cut Fusion006002011004053036004001012
    add(fusion006002011004053036004001012_1.part, mode=Mode.SUBTRACT)


with BuildPart() as cube019:
    # Box019 → Box019 (new body)
    with BuildSketch(Plane(origin=(-18.9, 19.5, 0), x_dir=(1, 0, 0), z_dir=(0, 0, 1))):
        with Locations((3.9, 5.5)):
            Rectangle(BOX019_W, BOX019_H)
    extrude(amount=BOX019_DEPTH)


with BuildPart() as cube017:
    # Box017 → Box017 (new body)
    with BuildSketch(Plane(origin=(-18.9, -26.5, 0), x_dir=(1, 0, 0), z_dir=(0, 0, 1))):
        with Locations((3.9, 5.5)):
            Rectangle(BOX017_W, BOX017_H)
    extrude(amount=BOX017_DEPTH)


with BuildPart() as chamfer029006005014:
    # Box018 → Box018 (new body)
    with BuildSketch(Plane(origin=(-18.9, -7.5, 0), x_dir=(1, 0, 0), z_dir=(0, 0, 1))):
        with Locations((3.9, 9.5)):
            Rectangle(BOX018_W, BOX018_H)
    extrude(amount=BOX018_DEPTH)

    # Fusion006002011004053036004001013: union Cube019, Cube017
    add(cube019.part)
    add(cube017.part)


with BuildPart() as chamfer029006005014_1:
    # Fusion006002011004053036004001013 placement: moved
    add(chamfer029006005014.part.moved(Location((0, 0, -1))))

    # Chamfer020
    chamfer020_edges = [chamfer029006005014_1.edges().sort_by_distance(p)[0] for p in [
        (-11.1, 2, 1),
        (-11.1, 25, 1),
        (-11.1, -21, 1),
    ]]
    chamfer(chamfer020_edges, length=CHAMFER020_SIZE)

    # Fusion006002011004053036004001014: union Cut001015
    add(cut001015.part)

    # Fusion006002011004053036004001015: union Chamfer019, Chamfer017
    add(chamfer019.part)
    add(chamfer017.part)

    # Cut001016: cut POSA001
    add(posa001.part, mode=Mode.SUBTRACT)

    # Cut001017: cut Fusion006002011004053036004001016
    add(fusion006002011004053036004001016.part, mode=Mode.SUBTRACT)

    # Fusion006002011004053036004001018: union Chamfer022
    add(chamfer022.part)

    # Cut001019: cut POSB002
    add(posb002.part, mode=Mode.SUBTRACT)

    # Chamfer024
    chamfer024_edges = [chamfer029006005014_1.edges().sort_by_distance(p)[0] for p in [
        (45.5, 0, 19.65),
        (45.5, 41, 11.5),
        (34, 41, 11.5),
    ]]
    chamfer(chamfer024_edges, length=CHAMFER024_SIZE)

    # Fusion006002011004053036004001019: union Fusion006002011004053036004001017
    add(fusion006002011004053036004001017.part)

    # Cut001020: cut Fusion006002011004053036004001007
    add(fusion006002011004053036004001007.part, mode=Mode.SUBTRACT)

    # Cut001021: cut Chamfer025
    add(chamfer025_1.part, mode=Mode.SUBTRACT)

    # Cut001024014003001002006003: cut Fillet003
    add(fillet003.part, mode=Mode.SUBTRACT)

    # Fusion006002011004053036004001028003011012: union Fusion006002011004053036004001 body4, Chamfer029006005010
    add(fusion006002011004053036004001_body4.part)
    add(chamfer029006005010.part)

    # Cut001024014003001002006005008: cut Fusion006002011004053036004001 body3
    add(fusion006002011004053036004001_body3.part, mode=Mode.SUBTRACT)

    # Chamfer029006005014
    chamfer029006005014_edges = [chamfer029006005014_1.edges().sort_by_distance(p)[0] for p in [
        (22.35, 26, -8),
        (22.35, 60, -8),
    ]]
    chamfer(chamfer029006005014_edges, length=CHAMFER029006005014_SIZE)


with BuildPart() as cube061:
    # Box061 → Box061 (new body)
    with BuildSketch(Plane(origin=(35.5, 8.5, -22.5), x_dir=(1, 0, 0), z_dir=(0, 0, 1))):
        with Locations((5, 29)):
            Rectangle(BOX061_W, BOX061_H)
    extrude(amount=BOX061_DEPTH)


with BuildPart() as motor_plate_r5:
    # Cylinder045 → Cylinder045 (new body)
    with BuildSketch(Plane(origin=(42.5, 41, 8.5), x_dir=(0, 0, -1), z_dir=(1, 0, 0))):
        Circle(CYLINDER045_R)
    extrude(amount=CYLINDER045_DEPTH)

    # Common: intersect Cube061
    add(cube061.part, mode=Mode.INTERSECT)

    # Fusion006002011004053036004001028003011016: union Chamfer029006005014
    add(chamfer029006005014_1.part)

    # Fusion006002011004053036004001028003011016007002: union rf-1-motor, Chamfer029006005013005005001006
    add(rf_1_motor.part)
    add(chamfer029006005013005005001006.part)

    # Cut001024014003001002006005013: cut Fusion006002011004053036004001 body
    add(fusion006002011004053036004001_body.part, mode=Mode.SUBTRACT)


solid = motor_plate_r5.part
